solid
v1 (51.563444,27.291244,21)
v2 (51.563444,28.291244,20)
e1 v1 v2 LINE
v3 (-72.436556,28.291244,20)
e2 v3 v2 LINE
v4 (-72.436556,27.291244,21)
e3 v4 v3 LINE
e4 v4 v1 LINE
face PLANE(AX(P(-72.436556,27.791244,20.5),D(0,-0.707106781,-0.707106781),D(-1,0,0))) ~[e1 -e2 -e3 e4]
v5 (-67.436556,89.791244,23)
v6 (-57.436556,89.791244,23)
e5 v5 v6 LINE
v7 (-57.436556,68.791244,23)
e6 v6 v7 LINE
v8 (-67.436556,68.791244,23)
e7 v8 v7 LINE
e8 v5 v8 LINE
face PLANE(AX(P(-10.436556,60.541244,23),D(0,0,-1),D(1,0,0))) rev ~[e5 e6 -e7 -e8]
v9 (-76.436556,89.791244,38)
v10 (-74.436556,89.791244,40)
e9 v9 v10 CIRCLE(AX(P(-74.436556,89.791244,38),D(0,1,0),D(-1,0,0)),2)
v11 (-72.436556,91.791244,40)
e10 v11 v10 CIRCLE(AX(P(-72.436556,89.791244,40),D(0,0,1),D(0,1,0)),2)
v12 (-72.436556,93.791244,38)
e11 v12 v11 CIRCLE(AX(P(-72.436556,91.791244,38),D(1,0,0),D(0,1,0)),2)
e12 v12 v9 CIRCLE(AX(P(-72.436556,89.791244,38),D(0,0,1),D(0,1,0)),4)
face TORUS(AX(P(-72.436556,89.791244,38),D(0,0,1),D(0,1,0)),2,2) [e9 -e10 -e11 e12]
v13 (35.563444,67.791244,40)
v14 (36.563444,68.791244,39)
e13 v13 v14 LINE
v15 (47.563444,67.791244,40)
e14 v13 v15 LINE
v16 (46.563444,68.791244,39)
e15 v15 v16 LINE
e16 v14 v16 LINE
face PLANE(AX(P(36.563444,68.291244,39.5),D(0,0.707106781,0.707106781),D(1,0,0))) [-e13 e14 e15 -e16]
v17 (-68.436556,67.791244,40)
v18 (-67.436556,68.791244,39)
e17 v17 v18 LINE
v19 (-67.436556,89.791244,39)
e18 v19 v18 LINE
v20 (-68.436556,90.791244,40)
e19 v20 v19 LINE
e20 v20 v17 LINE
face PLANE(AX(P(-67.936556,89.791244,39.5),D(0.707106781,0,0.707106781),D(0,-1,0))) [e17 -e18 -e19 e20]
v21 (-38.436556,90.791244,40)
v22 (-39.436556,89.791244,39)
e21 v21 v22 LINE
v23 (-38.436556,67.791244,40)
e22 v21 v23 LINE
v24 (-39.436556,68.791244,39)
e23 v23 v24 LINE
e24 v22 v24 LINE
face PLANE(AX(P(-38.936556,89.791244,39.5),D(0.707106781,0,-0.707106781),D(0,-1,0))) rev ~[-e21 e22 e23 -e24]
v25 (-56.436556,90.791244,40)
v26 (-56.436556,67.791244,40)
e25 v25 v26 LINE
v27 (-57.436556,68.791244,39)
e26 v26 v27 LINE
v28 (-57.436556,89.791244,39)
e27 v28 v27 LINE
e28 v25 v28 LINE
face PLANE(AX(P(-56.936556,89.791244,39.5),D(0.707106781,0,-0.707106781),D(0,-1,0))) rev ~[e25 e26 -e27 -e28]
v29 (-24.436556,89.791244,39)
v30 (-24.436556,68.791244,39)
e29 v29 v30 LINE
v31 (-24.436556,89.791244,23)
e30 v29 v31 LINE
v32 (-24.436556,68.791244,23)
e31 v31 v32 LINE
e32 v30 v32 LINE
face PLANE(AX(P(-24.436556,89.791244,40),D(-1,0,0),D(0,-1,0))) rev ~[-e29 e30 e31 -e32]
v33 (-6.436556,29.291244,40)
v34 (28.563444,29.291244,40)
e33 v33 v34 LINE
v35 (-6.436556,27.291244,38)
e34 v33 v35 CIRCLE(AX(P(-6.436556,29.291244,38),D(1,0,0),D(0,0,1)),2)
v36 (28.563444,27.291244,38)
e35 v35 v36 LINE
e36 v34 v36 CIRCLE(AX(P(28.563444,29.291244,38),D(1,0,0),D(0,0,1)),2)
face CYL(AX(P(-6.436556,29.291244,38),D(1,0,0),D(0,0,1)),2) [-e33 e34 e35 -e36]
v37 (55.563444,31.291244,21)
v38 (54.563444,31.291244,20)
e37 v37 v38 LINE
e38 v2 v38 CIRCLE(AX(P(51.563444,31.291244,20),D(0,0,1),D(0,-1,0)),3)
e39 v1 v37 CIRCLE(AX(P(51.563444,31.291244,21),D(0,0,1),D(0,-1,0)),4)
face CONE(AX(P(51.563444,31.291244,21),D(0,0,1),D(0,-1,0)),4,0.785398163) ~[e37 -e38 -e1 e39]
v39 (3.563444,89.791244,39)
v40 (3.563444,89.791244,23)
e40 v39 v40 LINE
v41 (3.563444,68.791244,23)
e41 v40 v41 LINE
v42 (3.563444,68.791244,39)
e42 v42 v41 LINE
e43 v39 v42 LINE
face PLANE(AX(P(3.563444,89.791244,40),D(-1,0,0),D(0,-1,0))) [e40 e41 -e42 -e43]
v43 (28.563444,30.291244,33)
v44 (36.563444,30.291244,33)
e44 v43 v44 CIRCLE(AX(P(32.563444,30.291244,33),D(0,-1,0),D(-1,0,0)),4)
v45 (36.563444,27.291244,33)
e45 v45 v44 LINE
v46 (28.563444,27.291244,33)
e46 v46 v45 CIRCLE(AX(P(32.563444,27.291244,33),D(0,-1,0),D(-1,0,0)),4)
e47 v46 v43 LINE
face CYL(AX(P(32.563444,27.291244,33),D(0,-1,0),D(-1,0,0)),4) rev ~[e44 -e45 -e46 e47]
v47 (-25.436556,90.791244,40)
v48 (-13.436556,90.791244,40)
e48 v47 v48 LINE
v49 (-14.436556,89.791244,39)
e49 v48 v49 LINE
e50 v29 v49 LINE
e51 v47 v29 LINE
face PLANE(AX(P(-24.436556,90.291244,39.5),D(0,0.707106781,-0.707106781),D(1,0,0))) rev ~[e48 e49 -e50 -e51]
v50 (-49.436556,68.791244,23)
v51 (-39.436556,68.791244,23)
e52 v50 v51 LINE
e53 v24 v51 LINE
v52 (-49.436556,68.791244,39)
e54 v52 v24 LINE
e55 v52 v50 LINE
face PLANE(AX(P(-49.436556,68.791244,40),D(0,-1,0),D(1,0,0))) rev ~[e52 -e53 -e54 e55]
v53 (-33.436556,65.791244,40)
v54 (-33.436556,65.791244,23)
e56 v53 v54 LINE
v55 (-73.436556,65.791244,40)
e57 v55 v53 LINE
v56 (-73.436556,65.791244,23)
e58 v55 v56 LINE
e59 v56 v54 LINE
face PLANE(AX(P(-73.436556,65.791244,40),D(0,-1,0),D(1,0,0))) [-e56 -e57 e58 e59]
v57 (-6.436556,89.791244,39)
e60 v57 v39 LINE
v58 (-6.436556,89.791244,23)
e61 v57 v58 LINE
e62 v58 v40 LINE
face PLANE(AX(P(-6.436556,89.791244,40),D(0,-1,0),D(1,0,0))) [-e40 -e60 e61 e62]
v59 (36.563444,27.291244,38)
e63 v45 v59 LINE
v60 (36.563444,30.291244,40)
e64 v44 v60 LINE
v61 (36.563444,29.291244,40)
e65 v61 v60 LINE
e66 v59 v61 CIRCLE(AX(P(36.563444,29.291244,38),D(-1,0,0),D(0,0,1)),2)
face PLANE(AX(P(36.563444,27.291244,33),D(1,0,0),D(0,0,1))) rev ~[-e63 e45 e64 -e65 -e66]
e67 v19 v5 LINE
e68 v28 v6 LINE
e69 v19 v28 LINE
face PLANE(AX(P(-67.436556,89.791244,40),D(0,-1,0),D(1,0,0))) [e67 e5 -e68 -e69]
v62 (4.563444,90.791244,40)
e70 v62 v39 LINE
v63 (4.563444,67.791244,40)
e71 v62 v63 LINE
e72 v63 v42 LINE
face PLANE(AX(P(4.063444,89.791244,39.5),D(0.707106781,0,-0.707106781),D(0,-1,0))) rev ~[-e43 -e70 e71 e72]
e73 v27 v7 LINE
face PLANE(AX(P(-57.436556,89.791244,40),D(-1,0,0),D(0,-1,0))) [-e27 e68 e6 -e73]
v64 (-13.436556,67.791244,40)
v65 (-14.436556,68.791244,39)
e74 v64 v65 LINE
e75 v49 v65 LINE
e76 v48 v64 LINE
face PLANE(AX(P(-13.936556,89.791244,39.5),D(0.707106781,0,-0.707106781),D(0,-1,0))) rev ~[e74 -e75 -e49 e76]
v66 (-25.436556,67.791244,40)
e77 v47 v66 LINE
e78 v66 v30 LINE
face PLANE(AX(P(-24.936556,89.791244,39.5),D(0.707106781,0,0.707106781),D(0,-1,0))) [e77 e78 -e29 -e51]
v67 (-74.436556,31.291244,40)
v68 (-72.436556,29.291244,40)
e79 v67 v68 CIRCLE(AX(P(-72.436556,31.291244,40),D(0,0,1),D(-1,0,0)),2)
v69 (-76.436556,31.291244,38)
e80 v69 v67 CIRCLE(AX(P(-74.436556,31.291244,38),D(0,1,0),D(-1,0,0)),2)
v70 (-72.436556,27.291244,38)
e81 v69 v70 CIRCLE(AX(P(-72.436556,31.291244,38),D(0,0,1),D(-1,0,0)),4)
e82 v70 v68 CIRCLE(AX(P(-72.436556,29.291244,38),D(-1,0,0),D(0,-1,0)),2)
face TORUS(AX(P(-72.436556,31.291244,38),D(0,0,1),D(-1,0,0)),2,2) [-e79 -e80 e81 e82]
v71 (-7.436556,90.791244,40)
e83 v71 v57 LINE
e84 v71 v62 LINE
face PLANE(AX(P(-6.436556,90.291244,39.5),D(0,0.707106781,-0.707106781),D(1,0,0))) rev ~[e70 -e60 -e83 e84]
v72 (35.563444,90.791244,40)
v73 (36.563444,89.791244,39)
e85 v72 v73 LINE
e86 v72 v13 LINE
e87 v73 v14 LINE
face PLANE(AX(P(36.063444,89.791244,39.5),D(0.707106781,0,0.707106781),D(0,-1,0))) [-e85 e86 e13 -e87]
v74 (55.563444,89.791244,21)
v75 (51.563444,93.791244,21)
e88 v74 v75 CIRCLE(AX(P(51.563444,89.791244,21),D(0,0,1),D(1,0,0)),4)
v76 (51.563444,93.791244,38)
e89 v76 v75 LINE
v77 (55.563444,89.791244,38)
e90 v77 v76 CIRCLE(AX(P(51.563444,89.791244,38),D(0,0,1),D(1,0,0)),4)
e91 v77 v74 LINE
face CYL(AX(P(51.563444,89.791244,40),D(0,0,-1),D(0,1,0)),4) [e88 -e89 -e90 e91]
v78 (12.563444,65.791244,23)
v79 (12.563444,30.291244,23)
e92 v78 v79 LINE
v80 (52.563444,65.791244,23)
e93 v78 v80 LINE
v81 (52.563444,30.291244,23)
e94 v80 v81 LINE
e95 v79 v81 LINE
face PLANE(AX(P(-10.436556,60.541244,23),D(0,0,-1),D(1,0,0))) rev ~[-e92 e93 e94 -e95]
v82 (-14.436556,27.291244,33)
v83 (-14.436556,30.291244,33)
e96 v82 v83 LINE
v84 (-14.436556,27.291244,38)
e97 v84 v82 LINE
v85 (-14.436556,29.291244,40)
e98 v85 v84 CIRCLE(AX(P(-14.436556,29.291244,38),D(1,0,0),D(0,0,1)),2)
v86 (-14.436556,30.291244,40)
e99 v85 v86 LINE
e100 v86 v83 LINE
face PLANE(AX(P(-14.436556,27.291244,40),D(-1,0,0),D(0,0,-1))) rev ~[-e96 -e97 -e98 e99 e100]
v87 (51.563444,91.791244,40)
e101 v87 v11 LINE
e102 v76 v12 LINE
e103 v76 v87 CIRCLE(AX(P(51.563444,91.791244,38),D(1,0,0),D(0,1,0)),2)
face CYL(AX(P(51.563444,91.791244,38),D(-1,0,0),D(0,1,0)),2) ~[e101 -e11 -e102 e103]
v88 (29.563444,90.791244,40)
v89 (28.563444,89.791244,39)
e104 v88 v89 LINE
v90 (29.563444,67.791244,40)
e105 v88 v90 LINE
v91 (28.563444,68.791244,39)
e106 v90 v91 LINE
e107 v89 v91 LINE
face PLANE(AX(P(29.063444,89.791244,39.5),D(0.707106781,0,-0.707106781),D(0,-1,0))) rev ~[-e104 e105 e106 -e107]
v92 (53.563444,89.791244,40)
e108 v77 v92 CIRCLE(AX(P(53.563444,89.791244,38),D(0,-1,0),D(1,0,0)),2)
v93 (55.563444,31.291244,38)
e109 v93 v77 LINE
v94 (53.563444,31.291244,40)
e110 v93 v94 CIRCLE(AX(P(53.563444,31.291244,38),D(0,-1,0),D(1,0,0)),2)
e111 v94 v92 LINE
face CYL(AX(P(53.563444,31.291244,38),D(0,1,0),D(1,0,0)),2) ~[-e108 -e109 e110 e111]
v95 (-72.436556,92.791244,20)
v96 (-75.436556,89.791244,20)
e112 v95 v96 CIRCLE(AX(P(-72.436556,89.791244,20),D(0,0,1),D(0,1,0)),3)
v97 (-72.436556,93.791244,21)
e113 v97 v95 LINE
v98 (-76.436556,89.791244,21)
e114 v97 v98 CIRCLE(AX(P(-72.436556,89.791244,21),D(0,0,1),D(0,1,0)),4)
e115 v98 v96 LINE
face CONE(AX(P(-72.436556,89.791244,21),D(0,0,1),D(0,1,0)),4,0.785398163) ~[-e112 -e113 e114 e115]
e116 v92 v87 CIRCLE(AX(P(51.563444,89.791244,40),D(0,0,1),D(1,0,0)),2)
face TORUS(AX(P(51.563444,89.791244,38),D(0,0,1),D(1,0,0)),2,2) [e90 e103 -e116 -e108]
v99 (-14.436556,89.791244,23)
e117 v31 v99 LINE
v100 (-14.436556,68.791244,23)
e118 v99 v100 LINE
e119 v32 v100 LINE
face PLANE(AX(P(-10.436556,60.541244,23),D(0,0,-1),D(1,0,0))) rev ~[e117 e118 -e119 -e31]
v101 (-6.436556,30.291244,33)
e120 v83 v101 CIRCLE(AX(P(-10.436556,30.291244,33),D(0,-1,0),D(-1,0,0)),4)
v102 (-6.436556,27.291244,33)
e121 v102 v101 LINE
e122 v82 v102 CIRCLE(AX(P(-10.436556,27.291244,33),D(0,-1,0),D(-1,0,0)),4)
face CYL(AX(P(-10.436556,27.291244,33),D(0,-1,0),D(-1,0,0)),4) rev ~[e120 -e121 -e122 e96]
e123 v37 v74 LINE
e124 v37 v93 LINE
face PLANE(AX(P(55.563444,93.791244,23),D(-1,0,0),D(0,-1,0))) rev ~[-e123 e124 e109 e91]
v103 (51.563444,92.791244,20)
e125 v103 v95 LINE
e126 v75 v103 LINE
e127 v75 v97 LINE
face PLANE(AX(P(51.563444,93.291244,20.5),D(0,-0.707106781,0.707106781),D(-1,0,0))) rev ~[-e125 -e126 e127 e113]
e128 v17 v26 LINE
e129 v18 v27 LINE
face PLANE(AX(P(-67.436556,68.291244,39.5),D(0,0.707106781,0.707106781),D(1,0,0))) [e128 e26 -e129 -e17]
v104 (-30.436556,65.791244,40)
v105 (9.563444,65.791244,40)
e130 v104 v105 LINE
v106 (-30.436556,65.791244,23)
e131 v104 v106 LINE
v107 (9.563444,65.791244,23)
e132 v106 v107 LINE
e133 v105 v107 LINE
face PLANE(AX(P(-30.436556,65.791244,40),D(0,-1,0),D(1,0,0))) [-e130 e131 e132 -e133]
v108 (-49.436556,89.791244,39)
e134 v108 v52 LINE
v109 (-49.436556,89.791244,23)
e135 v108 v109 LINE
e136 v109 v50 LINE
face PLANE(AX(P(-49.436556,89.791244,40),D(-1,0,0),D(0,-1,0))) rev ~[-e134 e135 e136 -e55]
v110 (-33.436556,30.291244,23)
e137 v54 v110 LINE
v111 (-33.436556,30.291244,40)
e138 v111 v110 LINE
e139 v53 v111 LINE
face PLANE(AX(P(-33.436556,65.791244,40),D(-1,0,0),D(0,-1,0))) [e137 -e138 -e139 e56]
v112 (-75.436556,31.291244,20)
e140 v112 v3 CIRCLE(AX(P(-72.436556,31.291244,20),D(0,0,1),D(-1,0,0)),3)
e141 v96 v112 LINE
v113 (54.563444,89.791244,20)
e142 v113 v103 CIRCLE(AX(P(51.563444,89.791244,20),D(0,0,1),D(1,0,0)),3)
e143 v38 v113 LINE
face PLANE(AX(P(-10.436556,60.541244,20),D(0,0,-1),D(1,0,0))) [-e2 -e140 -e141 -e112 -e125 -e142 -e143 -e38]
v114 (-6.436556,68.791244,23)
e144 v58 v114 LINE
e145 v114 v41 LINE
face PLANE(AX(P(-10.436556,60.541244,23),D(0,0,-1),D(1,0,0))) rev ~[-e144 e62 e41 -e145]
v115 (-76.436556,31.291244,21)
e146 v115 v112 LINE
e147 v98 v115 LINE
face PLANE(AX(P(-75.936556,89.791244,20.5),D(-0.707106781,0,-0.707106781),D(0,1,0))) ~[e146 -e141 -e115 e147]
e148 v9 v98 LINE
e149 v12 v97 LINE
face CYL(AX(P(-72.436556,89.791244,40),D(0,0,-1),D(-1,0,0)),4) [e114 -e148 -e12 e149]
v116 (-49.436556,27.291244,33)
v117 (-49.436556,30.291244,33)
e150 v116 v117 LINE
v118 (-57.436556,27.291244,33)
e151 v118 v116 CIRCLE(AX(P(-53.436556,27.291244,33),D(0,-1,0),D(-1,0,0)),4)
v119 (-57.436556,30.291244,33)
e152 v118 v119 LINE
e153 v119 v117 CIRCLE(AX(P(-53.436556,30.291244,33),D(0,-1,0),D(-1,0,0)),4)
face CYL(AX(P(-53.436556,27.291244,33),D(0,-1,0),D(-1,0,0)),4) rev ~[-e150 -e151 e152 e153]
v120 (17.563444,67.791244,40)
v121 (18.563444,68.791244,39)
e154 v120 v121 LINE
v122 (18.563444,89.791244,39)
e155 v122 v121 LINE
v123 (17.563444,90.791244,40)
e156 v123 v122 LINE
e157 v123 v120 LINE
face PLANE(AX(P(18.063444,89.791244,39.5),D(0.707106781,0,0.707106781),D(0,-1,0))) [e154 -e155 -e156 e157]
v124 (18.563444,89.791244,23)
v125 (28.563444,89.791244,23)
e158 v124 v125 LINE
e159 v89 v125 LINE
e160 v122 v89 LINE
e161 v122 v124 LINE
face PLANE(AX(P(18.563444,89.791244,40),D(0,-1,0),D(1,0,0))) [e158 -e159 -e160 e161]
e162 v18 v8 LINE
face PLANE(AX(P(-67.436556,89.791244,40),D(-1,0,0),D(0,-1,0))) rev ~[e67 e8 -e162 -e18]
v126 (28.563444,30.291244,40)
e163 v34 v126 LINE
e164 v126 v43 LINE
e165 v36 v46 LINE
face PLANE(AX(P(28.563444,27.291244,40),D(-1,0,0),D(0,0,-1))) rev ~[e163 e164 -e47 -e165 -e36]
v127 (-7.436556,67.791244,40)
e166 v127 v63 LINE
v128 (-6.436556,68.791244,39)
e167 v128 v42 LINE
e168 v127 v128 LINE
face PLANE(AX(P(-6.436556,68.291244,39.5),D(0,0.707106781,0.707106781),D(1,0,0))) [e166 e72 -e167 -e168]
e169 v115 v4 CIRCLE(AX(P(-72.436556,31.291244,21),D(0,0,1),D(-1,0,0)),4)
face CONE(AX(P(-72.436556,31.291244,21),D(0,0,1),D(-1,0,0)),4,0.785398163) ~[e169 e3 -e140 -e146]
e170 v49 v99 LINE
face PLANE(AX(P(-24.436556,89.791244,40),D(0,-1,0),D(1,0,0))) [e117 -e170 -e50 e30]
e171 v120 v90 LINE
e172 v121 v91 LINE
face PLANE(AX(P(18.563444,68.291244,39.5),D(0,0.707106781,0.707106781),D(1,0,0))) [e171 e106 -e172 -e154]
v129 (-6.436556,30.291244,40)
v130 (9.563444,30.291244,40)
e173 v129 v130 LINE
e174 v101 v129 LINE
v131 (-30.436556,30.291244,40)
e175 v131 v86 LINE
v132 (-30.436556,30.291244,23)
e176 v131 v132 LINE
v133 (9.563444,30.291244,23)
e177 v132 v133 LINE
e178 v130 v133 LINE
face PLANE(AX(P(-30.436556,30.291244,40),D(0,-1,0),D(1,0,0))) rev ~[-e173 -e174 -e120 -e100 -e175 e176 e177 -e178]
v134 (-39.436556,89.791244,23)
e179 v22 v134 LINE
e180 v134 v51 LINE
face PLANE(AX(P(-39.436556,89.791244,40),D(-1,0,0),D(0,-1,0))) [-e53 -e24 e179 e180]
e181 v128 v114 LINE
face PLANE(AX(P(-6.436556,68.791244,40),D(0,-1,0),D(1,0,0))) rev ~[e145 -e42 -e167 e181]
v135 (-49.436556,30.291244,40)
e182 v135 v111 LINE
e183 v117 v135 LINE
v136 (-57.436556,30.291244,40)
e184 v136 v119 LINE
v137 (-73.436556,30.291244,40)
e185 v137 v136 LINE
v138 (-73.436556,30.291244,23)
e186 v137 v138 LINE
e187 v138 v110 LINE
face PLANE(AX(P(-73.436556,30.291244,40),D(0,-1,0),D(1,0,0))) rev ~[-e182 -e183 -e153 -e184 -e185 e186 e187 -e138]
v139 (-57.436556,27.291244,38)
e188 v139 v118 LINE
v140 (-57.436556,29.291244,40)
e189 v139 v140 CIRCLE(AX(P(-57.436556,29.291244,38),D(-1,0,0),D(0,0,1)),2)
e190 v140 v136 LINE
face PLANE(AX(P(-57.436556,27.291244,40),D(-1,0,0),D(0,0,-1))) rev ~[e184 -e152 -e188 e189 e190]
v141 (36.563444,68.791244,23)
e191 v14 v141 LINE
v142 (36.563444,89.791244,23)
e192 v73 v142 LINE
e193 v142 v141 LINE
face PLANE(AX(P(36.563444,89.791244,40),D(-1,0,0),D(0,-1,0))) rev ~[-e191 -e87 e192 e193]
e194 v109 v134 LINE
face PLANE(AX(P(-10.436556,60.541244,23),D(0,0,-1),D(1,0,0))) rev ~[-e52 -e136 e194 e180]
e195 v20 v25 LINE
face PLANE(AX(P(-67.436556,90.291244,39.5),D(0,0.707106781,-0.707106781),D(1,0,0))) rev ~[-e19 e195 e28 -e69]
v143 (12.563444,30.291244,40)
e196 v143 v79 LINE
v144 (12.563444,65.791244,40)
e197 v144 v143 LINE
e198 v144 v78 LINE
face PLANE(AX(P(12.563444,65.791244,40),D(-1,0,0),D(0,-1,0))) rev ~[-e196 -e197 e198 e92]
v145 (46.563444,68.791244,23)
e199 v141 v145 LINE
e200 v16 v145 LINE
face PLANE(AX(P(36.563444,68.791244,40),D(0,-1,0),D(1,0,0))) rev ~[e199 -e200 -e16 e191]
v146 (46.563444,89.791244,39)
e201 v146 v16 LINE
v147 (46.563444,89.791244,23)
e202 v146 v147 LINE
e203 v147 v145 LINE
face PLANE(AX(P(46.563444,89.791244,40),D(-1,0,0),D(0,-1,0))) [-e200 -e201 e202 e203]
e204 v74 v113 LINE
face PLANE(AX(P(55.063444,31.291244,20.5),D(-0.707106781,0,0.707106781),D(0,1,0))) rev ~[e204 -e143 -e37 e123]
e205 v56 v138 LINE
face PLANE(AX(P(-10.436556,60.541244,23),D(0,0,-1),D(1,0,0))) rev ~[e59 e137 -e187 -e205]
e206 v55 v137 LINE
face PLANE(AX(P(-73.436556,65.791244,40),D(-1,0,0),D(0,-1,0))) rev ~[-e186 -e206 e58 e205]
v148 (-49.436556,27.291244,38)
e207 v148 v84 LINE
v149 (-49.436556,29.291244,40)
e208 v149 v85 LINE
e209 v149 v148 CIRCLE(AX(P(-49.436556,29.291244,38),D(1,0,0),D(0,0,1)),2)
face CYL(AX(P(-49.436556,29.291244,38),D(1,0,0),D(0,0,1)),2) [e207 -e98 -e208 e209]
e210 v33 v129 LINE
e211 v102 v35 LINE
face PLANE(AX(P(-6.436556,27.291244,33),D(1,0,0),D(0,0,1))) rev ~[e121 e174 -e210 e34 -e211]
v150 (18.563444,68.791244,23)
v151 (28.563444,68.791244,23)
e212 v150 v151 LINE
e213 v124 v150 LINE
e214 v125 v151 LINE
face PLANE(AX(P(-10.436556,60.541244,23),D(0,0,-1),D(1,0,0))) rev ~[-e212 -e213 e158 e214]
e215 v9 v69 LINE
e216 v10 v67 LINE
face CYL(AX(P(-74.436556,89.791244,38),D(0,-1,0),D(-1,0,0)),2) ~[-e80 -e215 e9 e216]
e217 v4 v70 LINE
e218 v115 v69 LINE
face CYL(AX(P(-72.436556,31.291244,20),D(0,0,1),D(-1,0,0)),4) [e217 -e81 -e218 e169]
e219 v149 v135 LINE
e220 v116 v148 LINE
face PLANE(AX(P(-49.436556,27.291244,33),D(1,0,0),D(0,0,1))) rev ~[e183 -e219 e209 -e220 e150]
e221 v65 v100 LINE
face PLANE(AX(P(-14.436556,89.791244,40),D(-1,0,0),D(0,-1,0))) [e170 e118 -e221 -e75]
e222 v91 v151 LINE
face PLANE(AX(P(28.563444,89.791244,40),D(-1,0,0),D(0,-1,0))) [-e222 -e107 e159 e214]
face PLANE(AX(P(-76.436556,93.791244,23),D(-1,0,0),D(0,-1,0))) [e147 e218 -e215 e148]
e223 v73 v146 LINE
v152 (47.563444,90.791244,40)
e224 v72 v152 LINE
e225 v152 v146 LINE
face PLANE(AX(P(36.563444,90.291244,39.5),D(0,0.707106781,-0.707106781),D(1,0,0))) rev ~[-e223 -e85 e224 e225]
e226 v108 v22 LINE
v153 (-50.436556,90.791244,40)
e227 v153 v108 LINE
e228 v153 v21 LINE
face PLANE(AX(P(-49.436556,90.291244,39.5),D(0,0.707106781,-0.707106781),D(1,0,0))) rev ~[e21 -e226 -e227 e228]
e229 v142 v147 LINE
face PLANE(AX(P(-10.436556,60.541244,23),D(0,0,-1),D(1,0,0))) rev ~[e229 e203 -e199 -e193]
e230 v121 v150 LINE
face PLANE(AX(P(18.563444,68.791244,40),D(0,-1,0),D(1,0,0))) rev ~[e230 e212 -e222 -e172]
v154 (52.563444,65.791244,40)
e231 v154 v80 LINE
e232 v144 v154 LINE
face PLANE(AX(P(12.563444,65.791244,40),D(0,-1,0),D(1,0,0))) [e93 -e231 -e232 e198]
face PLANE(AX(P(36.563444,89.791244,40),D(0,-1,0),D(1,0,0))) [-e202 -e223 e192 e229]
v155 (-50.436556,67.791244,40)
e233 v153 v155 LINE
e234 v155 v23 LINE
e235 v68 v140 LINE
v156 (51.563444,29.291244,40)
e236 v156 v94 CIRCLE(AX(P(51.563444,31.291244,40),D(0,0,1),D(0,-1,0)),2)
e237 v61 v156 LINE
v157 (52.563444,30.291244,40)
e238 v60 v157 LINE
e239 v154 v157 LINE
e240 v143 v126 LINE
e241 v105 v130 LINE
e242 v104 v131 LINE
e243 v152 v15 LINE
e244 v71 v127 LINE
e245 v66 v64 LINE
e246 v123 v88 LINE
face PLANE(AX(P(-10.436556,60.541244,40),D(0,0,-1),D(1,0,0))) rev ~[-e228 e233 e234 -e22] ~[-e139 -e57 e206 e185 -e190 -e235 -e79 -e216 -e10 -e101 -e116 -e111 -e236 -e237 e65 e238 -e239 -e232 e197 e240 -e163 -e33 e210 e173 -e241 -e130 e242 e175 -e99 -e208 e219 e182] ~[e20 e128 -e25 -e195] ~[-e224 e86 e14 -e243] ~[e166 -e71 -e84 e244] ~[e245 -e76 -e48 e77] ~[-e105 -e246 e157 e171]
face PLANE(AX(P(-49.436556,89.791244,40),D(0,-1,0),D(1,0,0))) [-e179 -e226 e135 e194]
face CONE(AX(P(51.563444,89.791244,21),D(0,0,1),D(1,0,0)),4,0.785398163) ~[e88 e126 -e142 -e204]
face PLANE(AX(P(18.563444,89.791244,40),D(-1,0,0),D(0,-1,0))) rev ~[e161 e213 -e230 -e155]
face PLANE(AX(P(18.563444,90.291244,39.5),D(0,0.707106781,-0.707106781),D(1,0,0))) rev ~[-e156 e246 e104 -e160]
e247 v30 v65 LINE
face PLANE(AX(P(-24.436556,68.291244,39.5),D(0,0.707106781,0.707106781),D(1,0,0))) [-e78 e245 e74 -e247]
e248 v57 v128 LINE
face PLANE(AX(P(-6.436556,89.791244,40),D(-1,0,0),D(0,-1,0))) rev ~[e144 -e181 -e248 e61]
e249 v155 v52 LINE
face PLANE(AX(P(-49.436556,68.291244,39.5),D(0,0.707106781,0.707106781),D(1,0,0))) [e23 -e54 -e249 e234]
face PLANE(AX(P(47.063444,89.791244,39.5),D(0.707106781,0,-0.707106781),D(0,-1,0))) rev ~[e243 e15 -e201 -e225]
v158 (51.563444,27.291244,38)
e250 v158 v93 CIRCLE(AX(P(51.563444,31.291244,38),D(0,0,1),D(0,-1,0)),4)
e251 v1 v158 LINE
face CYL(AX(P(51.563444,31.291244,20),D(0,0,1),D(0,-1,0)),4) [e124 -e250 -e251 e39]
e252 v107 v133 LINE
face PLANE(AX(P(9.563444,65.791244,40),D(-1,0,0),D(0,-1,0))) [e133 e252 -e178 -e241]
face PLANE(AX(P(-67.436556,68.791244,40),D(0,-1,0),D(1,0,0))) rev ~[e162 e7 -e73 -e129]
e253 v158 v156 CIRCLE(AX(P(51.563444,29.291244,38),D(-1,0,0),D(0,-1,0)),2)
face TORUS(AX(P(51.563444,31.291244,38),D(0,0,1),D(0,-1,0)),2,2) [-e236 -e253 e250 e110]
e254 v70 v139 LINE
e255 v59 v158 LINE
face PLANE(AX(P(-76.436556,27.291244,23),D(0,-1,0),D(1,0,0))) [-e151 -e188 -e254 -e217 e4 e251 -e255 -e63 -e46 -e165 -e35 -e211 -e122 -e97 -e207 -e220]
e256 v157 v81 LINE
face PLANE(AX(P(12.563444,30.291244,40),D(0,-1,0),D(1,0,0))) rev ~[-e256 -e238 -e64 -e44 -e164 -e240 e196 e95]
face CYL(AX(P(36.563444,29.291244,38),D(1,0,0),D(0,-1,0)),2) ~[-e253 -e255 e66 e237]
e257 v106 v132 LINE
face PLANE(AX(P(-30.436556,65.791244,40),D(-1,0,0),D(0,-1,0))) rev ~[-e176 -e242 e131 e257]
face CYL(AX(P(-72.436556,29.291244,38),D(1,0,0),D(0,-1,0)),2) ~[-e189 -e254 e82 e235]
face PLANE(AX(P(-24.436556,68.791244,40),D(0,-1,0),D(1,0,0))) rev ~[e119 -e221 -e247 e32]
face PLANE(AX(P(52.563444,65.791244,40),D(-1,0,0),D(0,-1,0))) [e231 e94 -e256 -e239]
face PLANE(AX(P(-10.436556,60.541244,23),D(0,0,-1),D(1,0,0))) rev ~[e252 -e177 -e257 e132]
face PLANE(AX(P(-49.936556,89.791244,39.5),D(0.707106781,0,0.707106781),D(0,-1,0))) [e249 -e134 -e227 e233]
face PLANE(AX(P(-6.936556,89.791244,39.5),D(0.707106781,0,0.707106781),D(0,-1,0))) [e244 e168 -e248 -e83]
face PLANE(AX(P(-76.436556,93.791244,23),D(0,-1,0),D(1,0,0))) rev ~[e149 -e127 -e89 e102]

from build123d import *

# Parameters (mm, degrees)
F0_W     = 132
F0_H     = 66.5
F0_W_2   = 10
F0_H_2   = 21
F0_W_3   = 40
F0_H_3   = 35.5
F1_DEPTH = 17
F2_W     = 132
F2_H     = 66.5
F2_W_2   = 10
F2_H_2   = 21
F2_W_3   = 40
F2_H_3   = 35.5
F3_DEPTH = 3
F5_DEPTH = 3
F6_ANGLE = 180
F7_R     = 4
F8_R     = 2
F9_SIZE  = 1
F10_SIZE = 1


with BuildPart() as f1:
    # F0 (on Top) → F1 (new body)
    with BuildSketch(Plane.XY):
        with Locations((-10.436555624, -5.9587561041)):
            Rectangle(F0_W, F0_H)
        with Locations((-62.436555624, -24.7087561041)):
            Rectangle(F0_W_2, F0_H_2, mode=Mode.SUBTRACT)
        with Locations((-44.436555624, -24.7087561041)):
            Rectangle(F0_W_2, F0_H_2, mode=Mode.SUBTRACT)
        with Locations((-19.436555624, -24.7087561041)):
            Rectangle(F0_W_2, F0_H_2, mode=Mode.SUBTRACT)
        with Locations((-1.436555624, -24.7087561041)):
            Rectangle(F0_W_2, F0_H_2, mode=Mode.SUBTRACT)
        with Locations((23.563444376, -24.7087561041)):
            Rectangle(F0_W_2, F0_H_2, mode=Mode.SUBTRACT)
        with Locations((41.563444376, -24.7087561041)):
            Rectangle(F0_W_2, F0_H_2, mode=Mode.SUBTRACT)
        with Locations((-53.436555624, 6.5412438959)):
            Rectangle(F0_W_3, F0_H_3, mode=Mode.SUBTRACT)
        with Locations((-10.436555624, 6.5412438959)):
            Rectangle(F0_W_3, F0_H_3, mode=Mode.SUBTRACT)
        with Locations((32.563444376, 6.5412438959)):
            Rectangle(F0_W_3, F0_H_3, mode=Mode.SUBTRACT)
    extrude(amount=F1_DEPTH)

    # F2 (on face) → F3 (join)
    with BuildSketch(Plane.XY.offset(17)):
        with Locations((-10.436555624, -5.9587561041)):
            Rectangle(F2_W, F2_H)
        with Locations((-62.436555624, -24.7087561041)):
            Rectangle(F2_W_2, F2_H_2, mode=Mode.SUBTRACT)
        with Locations((-44.436555624, -24.7087561041)):
            Rectangle(F2_W_2, F2_H_2, mode=Mode.SUBTRACT)
        with Locations((-19.436555624, -24.7087561041)):
            Rectangle(F2_W_2, F2_H_2, mode=Mode.SUBTRACT)
        with Locations((-1.436555624, -24.7087561041)):
            Rectangle(F2_W_2, F2_H_2, mode=Mode.SUBTRACT)
        with Locations((23.563444376, -24.7087561041)):
            Rectangle(F2_W_2, F2_H_2, mode=Mode.SUBTRACT)
        with Locations((41.563444376, -24.7087561041)):
            Rectangle(F2_W_2, F2_H_2, mode=Mode.SUBTRACT)
        with Locations((-53.436555624, 6.5412438959)):
            Rectangle(F2_W_3, F2_H_3, mode=Mode.SUBTRACT)
        with Locations((-10.436555624, 6.5412438959)):
            Rectangle(F2_W_3, F2_H_3, mode=Mode.SUBTRACT)
        with Locations((32.563444376, 6.5412438959)):
            Rectangle(F2_W_3, F2_H_3, mode=Mode.SUBTRACT)
        with Locations((-53.436555624, 6.5412438959)):
            Rectangle(F2_W_3, F2_H_3)
        with Locations((-10.436555624, 6.5412438959)):
            Rectangle(F2_W_3, F2_H_3)
        with Locations((32.563444376, 6.5412438959)):
            Rectangle(F2_W_3, F2_H_3)
        with Locations((41.563444376, -24.7087561041)):
            Rectangle(F2_W_2, F2_H_2)
        with Locations((23.563444376, -24.7087561041)):
            Rectangle(F2_W_2, F2_H_2)
        with Locations((-1.436555624, -24.7087561041)):
            Rectangle(F2_W_2, F2_H_2)
        with Locations((-19.436555624, -24.7087561041)):
            Rectangle(F2_W_2, F2_H_2)
        with Locations((-44.436555624, -24.7087561041)):
            Rectangle(F2_W_2, F2_H_2)
        with Locations((-62.436555624, -24.7087561041)):
            Rectangle(F2_W_2, F2_H_2)
    extrude(amount=F3_DEPTH)

    # F4 (on face) → F5 (cut, through all)
    with BuildSketch(Plane(origin=(0, 27.2912438959, 0), x_dir=(-1, 0, 0), z_dir=(0, 1, 0))):
        with BuildLine():
            Line((57.436555624, 0), (57.436555624, 7))
            ThreePointArc((57.436555624, 7), (53.436555624, 11), (49.436555624, 7))
            Line((49.436555624, 7), (49.436555624, 0))
            Line((49.436555624, 0), (57.436555624, 0))
        make_face()
        with BuildLine():
            Line((6.436555624, 0), (14.436555624, 0))
            Line((14.436555624, 0), (14.436555624, 7))
            ThreePointArc((14.436555624, 7), (10.436555624, 11), (6.436555624, 7))
            Line((6.436555624, 7), (6.436555624, 0))
        make_face()
        with BuildLine():
            Line((-36.563444376, 0), (-28.563444376, 0))
            Line((-28.563444376, 0), (-28.563444376, 7))
            ThreePointArc((-28.563444376, 7), (-32.563444376, 11), (-36.563444376, 7))
            Line((-36.563444376, 7), (-36.563444376, 0))
        make_face()
    extrude(amount=-F5_DEPTH, mode=Mode.SUBTRACT)


with BuildPart() as f1_1:
    # F6: moved
    add(f1.part.rotate(Axis((-10.436555624, 27.2912438959, 20), (1, 0, 0)), F6_ANGLE))

    # F7
    f7_edges = [f1_1.edges().sort_by_distance(p)[0] for p in [
        (-76.436556, 27.291244, 30),
        (55.563444, 27.291244, 30),
        (55.563444, 93.791244, 30),
        (-76.436556, 93.791244, 30),
    ]]
    fillet(f7_edges, radius=F7_R)

    # F8
    f8_edges = [f1_1.edges().sort_by_distance(p)[0] for p in [
        (-76.436556, 60.541244, 40),
        (-10.436556, 93.791244, 40),
        (-31.936556, 27.291244, 40),
        (11.063444, 27.291244, 40),
    ]]
    fillet(f8_edges, radius=F8_R)

    # F9
    f9_edges = [f1_1.edges().sort_by_distance(p)[0] for p in [
        (-67.436556, 79.291244, 40),
        (-39.436556, 79.291244, 40),
        (-49.436556, 79.291244, 40),
        (-62.436556, 68.791244, 40),
        (-57.436556, 79.291244, 40),
        (-24.436556, 79.291244, 40),
        (-14.436556, 79.291244, 40),
        (-6.436556, 79.291244, 40),
        (3.563444, 79.291244, 40),
        (18.563444, 79.291244, 40),
        (28.563444, 79.291244, 40),
        (36.563444, 79.291244, 40),
        (46.563444, 79.291244, 40),
        (41.563444, 68.791244, 40),
        (23.563444, 68.791244, 40),
        (-1.436556, 68.791244, 40),
        (-19.436556, 68.791244, 40),
        (-44.436556, 68.791244, 40),
        (-44.436556, 89.791244, 40),
        (-62.436556, 89.791244, 40),
        (-19.436556, 89.791244, 40),
        (-1.436556, 89.791244, 40),
        (23.563444, 89.791244, 40),
        (41.563444, 89.791244, 40),
    ]]
    chamfer(f9_edges, length=F9_SIZE)

    # F10
    f10_edges = [f1_1.edges().sort_by_distance(p)[0] for p in [
        (-10.436556, 27.291244, 20),
    ]]
    chamfer(f10_edges, length=F10_SIZE)


solid = f1_1.part
